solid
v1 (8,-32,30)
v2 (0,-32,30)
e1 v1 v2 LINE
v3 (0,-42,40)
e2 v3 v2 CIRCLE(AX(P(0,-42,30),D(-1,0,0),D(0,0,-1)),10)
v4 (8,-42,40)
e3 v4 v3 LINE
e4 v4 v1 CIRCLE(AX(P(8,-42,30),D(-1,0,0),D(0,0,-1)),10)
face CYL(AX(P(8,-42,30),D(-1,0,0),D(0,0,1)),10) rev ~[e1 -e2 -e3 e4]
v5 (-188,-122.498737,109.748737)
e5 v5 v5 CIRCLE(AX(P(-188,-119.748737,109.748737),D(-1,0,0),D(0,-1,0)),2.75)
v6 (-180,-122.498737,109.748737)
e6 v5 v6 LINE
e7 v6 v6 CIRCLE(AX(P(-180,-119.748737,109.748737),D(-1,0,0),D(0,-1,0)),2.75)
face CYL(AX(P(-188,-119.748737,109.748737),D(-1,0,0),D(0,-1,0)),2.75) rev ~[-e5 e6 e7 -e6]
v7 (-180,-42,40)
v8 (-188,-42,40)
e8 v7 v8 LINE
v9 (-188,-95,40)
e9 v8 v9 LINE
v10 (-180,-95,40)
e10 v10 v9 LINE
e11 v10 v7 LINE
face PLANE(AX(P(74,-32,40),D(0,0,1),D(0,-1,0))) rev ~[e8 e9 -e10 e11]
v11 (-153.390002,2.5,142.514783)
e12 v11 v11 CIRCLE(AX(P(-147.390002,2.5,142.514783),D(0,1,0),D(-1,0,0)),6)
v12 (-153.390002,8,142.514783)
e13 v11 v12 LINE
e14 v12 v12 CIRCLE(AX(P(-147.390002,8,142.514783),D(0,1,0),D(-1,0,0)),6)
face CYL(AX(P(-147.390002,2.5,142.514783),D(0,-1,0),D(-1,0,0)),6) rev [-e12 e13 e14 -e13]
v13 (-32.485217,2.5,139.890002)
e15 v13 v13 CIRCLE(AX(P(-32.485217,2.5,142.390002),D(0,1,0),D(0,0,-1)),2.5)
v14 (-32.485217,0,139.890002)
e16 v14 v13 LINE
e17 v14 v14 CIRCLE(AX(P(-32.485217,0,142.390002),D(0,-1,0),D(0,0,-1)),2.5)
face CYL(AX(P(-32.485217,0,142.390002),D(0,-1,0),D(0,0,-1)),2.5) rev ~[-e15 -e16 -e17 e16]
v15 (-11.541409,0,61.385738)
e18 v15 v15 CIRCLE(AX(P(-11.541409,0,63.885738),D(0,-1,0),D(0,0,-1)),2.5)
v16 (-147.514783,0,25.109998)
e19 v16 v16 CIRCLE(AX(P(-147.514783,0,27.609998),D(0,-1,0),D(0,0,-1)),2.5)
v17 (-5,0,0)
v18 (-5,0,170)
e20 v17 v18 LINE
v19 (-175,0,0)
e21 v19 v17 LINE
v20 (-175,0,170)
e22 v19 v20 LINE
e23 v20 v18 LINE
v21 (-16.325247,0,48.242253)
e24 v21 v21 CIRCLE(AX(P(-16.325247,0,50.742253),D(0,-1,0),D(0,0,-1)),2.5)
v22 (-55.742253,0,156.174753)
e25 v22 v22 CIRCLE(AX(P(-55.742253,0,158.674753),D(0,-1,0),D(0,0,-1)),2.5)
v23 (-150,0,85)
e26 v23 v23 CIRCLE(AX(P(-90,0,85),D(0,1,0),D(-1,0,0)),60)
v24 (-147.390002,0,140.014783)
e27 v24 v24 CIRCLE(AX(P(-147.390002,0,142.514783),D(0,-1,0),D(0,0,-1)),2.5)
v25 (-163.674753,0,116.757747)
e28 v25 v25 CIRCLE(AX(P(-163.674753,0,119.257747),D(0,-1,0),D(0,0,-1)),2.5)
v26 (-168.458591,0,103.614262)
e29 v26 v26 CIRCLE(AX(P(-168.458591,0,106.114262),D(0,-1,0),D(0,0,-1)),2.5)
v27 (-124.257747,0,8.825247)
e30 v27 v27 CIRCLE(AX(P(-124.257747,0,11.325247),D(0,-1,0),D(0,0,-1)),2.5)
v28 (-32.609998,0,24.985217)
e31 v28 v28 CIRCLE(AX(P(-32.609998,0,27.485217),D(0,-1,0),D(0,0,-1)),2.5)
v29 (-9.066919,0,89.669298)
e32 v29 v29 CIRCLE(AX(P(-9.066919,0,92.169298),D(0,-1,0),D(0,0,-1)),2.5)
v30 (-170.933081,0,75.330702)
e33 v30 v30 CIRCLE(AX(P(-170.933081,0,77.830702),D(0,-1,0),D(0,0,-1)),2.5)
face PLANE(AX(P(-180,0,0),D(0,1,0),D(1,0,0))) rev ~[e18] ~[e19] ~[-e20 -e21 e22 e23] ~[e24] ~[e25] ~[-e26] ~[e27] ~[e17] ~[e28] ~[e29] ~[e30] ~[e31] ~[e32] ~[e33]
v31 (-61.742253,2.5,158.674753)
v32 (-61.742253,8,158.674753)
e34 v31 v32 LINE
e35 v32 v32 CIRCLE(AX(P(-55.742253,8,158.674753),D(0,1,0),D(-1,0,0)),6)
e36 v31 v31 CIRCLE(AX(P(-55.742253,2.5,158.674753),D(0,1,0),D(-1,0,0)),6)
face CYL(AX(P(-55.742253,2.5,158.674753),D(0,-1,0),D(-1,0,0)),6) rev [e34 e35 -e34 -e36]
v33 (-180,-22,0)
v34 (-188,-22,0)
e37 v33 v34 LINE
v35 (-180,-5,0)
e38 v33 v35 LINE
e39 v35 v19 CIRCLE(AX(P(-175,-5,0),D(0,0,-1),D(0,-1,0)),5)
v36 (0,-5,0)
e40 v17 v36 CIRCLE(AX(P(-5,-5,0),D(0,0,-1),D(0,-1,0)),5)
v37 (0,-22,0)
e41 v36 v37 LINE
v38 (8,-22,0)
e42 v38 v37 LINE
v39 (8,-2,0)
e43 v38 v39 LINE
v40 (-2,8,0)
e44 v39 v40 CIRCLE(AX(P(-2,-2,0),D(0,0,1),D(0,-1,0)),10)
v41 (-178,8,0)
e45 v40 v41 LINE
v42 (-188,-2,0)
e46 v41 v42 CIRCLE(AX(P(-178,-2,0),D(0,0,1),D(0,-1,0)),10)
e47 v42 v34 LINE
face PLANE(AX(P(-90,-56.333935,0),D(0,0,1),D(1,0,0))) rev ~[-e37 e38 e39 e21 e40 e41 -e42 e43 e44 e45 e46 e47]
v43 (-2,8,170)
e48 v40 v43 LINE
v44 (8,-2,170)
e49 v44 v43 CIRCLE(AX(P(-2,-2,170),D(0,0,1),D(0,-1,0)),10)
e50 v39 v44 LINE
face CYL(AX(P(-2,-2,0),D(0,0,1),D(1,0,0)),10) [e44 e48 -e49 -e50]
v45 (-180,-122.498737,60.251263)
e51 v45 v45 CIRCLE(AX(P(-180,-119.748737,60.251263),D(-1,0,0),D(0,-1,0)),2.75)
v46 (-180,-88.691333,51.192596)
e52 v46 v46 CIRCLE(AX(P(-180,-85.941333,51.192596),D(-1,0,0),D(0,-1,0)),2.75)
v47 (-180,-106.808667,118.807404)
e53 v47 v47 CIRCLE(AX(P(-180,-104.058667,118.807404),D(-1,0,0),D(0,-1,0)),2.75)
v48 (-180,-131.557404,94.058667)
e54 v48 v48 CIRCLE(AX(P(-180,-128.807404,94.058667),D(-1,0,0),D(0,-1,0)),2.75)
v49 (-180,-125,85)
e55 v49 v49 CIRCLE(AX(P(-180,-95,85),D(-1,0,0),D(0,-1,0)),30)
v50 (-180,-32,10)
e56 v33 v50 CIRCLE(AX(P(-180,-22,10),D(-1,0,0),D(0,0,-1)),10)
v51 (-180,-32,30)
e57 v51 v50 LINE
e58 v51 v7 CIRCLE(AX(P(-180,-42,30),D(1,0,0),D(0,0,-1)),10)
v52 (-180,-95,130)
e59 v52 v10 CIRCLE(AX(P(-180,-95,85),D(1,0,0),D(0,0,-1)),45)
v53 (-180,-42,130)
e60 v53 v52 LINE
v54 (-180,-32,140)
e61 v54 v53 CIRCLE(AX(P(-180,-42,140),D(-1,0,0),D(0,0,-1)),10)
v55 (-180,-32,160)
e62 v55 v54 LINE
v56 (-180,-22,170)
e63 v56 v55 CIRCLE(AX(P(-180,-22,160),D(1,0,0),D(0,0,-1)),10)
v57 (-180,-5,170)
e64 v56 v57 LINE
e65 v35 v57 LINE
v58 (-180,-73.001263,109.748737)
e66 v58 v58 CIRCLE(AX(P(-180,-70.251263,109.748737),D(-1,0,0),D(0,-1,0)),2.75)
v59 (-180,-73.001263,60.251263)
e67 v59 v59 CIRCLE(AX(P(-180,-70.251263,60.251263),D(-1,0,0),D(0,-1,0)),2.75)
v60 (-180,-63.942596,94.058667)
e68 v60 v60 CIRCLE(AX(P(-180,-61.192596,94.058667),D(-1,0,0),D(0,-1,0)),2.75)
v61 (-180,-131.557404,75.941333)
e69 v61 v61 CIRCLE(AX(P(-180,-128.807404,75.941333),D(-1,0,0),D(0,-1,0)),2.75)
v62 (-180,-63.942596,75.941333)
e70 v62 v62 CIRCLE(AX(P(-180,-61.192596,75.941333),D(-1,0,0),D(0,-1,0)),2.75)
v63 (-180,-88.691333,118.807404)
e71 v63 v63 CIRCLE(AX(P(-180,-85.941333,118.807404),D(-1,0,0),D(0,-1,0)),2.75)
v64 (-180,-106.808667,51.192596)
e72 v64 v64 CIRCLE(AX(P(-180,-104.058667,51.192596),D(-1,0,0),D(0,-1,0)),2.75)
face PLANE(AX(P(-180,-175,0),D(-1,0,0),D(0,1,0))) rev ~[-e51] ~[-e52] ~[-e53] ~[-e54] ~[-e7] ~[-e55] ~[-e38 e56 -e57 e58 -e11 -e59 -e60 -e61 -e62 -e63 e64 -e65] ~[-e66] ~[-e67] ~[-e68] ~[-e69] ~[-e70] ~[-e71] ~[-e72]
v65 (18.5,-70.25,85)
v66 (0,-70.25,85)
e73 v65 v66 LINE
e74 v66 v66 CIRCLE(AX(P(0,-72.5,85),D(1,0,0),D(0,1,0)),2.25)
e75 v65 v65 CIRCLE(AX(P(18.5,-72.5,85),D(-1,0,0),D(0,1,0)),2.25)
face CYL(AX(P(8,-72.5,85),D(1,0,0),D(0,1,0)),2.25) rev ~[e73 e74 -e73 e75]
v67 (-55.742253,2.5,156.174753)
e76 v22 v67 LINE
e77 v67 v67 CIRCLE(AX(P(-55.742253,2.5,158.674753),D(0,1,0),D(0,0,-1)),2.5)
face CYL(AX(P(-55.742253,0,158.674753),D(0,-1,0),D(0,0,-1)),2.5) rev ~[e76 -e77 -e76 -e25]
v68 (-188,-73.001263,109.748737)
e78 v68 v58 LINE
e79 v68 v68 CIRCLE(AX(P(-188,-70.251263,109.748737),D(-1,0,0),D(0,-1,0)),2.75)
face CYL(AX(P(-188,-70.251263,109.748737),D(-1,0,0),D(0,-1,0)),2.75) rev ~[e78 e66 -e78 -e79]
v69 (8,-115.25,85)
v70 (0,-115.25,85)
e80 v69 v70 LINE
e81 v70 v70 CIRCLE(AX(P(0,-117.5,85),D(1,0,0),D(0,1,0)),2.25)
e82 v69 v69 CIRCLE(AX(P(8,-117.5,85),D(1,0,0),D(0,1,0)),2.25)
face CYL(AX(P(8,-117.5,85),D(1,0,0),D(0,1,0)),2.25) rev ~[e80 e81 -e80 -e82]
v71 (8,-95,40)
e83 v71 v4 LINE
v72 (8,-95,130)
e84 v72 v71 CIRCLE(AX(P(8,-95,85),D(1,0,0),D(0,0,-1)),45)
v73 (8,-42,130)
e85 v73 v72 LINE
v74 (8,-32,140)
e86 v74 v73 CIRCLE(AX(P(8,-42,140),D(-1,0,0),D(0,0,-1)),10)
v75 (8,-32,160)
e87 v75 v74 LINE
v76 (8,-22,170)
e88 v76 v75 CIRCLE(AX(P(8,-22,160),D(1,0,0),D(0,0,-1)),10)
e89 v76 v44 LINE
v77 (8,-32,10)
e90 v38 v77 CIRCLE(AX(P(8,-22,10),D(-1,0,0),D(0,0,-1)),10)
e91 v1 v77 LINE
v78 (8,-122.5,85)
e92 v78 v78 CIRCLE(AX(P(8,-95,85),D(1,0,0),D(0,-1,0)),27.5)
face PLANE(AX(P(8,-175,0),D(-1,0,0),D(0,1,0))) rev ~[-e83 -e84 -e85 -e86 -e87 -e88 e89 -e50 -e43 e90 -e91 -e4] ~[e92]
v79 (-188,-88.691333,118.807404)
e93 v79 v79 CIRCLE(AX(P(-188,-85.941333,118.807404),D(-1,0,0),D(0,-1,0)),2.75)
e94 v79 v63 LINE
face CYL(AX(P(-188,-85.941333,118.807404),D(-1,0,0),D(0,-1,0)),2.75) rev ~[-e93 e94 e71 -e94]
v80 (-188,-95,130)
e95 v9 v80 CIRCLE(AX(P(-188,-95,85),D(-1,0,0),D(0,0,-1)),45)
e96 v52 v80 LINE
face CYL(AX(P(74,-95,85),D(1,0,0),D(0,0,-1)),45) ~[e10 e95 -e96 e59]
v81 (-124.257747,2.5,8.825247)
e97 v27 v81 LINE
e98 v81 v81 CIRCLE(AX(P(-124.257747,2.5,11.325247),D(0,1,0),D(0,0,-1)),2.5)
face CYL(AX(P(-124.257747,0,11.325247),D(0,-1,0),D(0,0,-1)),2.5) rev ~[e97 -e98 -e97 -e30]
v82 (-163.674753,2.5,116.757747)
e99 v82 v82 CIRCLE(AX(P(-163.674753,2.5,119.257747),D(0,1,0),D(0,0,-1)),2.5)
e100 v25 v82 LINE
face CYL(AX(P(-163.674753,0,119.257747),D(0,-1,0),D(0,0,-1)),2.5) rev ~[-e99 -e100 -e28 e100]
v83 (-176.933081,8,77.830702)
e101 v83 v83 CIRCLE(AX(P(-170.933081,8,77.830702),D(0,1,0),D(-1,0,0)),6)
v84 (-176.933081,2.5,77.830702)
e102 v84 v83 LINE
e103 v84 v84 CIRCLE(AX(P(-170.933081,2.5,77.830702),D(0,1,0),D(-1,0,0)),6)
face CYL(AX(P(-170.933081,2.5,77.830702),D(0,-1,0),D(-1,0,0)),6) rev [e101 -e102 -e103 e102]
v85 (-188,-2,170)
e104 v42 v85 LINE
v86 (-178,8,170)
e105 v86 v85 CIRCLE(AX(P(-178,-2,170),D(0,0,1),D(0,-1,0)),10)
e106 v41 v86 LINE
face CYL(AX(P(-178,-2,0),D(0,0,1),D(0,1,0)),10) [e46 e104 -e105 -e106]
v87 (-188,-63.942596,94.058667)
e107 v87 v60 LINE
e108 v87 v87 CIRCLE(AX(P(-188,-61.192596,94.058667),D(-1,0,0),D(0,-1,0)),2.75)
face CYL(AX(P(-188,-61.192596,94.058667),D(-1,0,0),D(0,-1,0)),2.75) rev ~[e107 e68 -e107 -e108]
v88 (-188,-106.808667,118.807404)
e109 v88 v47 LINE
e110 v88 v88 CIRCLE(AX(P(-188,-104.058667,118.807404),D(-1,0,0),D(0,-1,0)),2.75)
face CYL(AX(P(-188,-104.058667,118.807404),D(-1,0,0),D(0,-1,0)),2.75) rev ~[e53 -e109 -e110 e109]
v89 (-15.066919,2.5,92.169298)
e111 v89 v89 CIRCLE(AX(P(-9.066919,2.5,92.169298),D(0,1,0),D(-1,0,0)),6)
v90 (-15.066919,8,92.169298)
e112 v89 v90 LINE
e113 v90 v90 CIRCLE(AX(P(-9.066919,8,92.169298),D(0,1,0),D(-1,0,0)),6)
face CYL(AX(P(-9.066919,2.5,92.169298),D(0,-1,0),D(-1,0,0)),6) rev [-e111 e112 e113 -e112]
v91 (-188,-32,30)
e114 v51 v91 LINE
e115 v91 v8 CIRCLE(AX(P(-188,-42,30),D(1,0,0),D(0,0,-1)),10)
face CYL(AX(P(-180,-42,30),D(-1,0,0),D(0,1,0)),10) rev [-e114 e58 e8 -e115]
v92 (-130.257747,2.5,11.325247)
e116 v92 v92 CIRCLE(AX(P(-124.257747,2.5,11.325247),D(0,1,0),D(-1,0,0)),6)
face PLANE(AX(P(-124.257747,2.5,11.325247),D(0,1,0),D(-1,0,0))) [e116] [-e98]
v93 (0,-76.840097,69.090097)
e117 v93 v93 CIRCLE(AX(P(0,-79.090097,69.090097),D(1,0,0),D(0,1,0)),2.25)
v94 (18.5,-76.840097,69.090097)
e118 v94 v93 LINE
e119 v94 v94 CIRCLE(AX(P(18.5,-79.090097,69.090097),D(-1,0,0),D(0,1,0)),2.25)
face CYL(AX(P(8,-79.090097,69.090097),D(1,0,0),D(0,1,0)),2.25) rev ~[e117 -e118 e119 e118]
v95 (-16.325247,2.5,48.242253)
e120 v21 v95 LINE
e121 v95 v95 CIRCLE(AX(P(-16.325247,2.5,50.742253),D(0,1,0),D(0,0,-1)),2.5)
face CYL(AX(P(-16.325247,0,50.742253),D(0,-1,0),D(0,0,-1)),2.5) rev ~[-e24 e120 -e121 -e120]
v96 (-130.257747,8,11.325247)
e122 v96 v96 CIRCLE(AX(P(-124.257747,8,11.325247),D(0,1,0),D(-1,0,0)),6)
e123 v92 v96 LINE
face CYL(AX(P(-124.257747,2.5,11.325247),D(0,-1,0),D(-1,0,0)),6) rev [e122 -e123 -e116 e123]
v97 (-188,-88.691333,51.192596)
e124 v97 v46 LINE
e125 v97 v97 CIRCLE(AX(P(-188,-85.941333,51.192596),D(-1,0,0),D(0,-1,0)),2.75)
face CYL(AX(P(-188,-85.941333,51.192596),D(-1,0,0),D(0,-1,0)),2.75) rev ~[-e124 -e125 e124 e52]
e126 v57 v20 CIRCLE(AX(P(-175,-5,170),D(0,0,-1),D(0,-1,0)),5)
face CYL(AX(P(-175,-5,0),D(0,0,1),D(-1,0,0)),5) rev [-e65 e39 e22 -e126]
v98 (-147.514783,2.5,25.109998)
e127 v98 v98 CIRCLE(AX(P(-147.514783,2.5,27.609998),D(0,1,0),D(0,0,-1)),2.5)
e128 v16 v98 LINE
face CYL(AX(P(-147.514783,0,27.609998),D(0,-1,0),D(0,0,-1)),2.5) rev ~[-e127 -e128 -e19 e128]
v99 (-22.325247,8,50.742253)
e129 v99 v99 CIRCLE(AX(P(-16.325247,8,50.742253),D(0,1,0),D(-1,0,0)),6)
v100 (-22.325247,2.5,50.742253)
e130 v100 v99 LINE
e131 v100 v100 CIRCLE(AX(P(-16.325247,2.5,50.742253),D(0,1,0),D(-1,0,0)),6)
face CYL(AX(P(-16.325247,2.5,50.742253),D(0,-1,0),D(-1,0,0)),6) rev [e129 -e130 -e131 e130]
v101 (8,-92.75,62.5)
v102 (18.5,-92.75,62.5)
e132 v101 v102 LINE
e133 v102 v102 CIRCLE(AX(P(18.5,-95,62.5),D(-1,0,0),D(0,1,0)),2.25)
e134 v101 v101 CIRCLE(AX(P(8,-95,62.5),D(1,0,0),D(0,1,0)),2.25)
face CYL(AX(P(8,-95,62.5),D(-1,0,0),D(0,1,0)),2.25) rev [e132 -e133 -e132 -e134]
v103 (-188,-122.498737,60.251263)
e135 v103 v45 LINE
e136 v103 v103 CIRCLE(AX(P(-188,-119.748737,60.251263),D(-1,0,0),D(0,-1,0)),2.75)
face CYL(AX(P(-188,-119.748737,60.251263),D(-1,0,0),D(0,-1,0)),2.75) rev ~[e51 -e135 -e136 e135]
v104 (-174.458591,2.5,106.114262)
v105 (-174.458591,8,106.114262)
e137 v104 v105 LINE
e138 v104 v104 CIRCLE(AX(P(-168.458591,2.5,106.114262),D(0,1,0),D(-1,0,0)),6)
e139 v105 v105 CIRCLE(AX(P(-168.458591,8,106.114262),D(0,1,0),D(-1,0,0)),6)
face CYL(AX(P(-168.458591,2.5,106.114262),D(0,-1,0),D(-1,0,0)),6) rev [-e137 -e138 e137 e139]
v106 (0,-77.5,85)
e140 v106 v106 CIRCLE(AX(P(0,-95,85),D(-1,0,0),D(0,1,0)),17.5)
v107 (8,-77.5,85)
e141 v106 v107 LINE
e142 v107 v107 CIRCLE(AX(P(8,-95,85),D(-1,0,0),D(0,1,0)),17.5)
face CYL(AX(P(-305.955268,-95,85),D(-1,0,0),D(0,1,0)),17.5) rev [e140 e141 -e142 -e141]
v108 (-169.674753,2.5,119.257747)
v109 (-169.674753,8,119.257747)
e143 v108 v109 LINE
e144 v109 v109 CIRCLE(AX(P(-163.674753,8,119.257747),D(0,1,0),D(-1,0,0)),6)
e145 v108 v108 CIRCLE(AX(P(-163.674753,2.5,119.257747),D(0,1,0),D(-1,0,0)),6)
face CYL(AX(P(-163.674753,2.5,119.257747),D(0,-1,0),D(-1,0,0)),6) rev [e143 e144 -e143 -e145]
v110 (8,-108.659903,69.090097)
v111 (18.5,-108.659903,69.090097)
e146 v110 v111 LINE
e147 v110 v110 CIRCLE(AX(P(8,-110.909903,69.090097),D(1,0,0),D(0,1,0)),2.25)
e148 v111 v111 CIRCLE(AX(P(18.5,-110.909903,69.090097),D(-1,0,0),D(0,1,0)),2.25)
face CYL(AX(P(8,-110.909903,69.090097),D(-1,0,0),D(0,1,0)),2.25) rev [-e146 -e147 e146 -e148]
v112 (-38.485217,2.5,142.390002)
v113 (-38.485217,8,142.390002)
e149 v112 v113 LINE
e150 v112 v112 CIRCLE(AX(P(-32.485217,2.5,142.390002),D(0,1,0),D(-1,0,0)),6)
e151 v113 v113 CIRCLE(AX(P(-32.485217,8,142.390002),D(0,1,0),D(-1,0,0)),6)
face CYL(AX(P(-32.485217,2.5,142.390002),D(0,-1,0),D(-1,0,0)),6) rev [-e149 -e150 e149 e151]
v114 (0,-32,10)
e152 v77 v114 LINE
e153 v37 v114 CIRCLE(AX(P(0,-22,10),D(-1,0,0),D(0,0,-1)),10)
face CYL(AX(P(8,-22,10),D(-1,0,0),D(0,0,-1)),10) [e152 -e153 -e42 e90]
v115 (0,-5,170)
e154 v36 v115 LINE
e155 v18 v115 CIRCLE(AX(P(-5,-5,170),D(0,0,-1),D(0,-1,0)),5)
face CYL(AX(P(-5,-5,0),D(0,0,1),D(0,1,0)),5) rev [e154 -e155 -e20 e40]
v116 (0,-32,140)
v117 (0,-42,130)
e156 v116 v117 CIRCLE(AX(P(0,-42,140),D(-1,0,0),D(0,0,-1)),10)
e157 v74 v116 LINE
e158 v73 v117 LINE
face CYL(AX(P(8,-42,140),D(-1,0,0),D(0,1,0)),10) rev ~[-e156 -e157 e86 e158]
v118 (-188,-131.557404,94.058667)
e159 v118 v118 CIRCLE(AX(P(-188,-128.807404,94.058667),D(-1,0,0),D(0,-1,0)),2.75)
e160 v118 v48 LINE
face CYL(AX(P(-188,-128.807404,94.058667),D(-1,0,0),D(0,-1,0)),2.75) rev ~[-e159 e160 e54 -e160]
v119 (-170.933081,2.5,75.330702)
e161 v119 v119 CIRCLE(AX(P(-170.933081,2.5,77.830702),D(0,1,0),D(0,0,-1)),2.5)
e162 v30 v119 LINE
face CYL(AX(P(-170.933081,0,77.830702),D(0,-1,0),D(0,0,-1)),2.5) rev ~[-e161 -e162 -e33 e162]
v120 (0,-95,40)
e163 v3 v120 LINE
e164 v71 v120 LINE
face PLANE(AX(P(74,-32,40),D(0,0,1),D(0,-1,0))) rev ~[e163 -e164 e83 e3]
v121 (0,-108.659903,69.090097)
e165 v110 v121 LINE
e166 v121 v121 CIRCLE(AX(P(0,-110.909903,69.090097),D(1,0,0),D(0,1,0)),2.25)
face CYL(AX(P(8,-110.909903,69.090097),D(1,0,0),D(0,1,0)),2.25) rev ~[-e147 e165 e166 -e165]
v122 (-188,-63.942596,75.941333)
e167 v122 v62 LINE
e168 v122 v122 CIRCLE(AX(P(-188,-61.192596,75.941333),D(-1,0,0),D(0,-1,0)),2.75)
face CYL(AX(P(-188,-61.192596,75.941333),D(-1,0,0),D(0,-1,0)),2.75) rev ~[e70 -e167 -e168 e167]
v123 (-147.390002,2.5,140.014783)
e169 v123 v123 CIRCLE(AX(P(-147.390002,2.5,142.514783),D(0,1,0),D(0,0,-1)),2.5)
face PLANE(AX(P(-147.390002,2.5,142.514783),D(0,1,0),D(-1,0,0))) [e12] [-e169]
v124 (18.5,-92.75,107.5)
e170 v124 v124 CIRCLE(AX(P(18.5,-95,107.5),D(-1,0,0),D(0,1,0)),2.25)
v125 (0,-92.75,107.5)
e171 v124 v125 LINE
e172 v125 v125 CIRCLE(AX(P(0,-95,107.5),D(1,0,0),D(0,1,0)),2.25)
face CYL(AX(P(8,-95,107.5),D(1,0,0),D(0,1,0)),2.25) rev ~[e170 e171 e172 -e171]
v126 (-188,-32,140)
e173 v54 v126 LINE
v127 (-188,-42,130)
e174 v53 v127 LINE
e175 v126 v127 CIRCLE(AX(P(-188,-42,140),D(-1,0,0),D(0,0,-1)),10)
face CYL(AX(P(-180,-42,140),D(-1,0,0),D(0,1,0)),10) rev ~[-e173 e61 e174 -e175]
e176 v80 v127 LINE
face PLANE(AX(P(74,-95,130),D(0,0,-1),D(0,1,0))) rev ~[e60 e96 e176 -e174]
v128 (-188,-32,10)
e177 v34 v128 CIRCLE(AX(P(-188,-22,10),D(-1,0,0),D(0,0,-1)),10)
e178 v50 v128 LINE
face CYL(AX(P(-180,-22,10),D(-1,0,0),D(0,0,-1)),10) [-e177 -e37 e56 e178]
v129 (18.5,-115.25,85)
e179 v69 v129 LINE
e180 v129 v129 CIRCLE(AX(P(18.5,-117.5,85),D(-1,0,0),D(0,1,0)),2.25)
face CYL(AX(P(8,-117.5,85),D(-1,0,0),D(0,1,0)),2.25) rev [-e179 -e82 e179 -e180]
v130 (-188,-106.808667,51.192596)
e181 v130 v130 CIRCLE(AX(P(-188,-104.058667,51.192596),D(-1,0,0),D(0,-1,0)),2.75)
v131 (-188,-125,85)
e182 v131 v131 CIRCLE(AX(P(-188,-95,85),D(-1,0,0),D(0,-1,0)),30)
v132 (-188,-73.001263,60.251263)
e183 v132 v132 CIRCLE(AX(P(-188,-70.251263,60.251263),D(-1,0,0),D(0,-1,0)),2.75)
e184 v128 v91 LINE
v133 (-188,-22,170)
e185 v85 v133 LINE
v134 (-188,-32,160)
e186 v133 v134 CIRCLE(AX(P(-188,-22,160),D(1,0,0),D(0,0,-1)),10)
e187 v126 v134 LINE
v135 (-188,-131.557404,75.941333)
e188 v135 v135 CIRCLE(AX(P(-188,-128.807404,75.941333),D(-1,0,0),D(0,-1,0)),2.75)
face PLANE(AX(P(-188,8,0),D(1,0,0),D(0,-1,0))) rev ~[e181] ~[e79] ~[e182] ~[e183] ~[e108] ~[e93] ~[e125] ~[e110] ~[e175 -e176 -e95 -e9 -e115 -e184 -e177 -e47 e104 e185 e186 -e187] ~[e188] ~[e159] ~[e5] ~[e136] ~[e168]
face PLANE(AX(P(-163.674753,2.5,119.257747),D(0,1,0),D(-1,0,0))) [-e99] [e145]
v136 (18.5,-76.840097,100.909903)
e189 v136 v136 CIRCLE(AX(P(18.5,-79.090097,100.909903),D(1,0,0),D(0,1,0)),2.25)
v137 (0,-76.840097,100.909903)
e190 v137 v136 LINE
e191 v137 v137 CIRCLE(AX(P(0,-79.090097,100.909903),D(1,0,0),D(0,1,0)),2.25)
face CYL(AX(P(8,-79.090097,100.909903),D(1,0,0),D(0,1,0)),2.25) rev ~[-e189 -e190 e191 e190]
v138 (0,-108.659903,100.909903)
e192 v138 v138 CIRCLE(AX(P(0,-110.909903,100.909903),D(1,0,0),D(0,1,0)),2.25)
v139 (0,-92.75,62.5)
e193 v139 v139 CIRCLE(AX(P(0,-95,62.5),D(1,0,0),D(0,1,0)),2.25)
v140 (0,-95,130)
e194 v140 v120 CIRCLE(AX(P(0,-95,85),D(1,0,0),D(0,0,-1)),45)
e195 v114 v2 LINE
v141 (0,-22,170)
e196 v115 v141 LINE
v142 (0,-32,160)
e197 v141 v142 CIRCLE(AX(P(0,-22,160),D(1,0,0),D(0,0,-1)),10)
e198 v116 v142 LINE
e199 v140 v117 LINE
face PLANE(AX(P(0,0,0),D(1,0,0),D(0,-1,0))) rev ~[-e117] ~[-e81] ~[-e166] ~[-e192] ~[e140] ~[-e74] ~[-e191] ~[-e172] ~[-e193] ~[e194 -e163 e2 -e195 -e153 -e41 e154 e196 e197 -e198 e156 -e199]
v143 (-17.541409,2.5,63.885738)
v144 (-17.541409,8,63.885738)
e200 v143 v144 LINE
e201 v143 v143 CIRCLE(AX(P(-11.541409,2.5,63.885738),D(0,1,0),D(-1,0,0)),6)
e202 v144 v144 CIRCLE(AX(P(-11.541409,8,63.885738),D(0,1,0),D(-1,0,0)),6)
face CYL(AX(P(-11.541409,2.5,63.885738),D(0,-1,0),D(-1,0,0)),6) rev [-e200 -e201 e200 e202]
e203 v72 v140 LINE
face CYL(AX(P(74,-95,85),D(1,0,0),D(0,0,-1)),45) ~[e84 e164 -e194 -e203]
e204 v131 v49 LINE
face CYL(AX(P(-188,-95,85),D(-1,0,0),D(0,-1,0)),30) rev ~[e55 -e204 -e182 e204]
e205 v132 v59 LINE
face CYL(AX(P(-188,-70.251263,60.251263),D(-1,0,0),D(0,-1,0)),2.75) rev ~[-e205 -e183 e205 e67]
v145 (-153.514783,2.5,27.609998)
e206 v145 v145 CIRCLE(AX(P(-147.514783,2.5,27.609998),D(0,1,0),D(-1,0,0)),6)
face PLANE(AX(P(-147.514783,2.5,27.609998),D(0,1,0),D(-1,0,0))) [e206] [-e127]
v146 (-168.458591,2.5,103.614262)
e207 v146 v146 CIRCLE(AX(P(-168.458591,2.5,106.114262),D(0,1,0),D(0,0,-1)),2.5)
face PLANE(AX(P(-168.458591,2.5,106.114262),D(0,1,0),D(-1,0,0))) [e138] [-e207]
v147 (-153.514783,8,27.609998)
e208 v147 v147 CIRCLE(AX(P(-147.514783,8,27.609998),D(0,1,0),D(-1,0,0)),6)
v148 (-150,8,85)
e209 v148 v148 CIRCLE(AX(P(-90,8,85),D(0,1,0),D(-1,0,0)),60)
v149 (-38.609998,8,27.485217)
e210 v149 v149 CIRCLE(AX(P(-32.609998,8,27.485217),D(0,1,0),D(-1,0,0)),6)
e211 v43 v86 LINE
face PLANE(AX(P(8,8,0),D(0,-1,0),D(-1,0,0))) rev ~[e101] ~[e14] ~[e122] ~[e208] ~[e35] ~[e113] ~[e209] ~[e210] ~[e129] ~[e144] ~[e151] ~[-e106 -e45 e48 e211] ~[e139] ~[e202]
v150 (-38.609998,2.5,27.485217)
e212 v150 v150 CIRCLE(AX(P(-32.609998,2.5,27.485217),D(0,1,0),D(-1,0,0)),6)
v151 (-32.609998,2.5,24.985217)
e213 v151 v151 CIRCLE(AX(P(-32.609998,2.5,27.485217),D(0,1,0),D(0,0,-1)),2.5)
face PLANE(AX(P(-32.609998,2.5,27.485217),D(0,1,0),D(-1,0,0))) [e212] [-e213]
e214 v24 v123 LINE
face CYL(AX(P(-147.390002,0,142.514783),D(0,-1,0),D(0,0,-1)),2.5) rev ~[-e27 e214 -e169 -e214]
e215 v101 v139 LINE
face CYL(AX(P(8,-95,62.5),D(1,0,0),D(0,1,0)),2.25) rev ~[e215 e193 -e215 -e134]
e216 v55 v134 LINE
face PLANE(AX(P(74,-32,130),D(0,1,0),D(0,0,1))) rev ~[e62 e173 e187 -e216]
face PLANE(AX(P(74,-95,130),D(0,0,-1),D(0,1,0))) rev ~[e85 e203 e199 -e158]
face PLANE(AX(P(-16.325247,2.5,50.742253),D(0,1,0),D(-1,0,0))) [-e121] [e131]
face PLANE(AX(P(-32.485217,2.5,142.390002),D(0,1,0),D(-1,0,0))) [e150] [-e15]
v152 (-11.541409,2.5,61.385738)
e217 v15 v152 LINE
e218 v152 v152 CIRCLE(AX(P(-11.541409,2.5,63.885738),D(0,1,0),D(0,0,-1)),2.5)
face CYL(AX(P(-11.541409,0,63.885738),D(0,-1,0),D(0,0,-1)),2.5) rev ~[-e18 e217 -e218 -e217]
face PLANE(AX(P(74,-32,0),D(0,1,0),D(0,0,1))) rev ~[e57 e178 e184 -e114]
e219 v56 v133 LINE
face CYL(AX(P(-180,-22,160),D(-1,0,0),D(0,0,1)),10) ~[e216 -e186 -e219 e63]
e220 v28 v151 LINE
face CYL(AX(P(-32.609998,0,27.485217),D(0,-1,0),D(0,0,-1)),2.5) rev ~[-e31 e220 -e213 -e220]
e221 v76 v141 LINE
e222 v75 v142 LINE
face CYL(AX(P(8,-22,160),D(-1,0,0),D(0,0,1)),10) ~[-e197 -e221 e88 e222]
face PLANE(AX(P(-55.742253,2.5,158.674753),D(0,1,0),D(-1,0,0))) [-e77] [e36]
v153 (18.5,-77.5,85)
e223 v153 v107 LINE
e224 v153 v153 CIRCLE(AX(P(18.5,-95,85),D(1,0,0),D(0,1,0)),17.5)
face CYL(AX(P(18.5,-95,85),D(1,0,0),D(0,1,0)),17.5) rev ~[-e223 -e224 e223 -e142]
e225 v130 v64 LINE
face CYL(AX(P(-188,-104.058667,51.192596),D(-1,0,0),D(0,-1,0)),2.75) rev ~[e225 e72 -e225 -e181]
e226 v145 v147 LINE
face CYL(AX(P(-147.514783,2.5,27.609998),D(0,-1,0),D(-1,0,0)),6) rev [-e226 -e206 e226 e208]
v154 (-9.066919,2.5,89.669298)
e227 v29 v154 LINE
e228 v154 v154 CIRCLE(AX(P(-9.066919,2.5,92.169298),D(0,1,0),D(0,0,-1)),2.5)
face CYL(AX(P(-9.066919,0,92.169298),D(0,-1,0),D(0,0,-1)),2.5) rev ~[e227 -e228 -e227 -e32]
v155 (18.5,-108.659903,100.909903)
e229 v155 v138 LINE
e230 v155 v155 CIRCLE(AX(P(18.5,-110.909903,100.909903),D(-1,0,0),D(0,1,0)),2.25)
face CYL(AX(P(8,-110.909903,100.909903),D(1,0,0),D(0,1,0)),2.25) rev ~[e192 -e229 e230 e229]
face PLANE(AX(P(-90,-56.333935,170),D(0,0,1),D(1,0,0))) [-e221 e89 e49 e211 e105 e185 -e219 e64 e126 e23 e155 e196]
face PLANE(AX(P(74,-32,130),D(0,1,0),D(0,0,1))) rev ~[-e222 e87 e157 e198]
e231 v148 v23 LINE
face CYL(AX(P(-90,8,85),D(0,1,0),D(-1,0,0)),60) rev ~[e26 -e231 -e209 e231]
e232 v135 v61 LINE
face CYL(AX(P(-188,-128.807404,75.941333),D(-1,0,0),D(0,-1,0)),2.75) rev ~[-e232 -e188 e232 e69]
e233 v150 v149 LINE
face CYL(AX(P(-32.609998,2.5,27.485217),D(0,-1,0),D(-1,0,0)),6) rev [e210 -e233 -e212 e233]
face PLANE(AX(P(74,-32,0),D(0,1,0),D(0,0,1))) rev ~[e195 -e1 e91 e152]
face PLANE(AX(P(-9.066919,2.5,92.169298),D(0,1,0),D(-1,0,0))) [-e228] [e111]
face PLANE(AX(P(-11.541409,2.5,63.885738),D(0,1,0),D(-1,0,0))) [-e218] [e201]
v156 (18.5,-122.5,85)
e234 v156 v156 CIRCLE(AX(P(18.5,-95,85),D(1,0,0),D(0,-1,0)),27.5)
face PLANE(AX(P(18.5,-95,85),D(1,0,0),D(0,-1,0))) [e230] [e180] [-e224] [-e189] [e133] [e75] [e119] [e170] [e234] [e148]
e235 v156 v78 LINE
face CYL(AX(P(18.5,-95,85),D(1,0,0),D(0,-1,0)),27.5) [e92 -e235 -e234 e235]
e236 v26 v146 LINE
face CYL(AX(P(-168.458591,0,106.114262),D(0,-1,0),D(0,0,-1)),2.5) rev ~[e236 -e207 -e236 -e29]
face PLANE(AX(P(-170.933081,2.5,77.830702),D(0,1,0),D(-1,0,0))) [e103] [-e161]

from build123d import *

# Parameters (mm, degrees)
EXTRUDE_1_DEPTH          = 170
SKETCH_2_R               = 60
CUT_EXTRUDE_1_DEPTH      = 180
CUT_EXTRUDE_2_DEPTH      = 313.955268369
CUT_EXTRUDE_2_DEPTH_BACK = 313.955268369
SKETCH_3_R               = 17.5
FILLET_1_R               = 70
FILLET_2_R               = 5
FILLET_3_R               = 10
SKETCH_6_R               = 30
CUT_EXTRUDE_6_DEPTH      = 39
SKETCH_10_R              = 2.5
CUT_EXTRUDE_10_DEPTH     = 10
CUT_EXTRUDE_START        = -5.5
SKETCH_11_R              = 6
SKETCH_11_R_2            = 2.5
CUT_EXTRUDE_11_DEPTH     = 5.5
SKETCH_12_R              = 2.75
CUT_EXTRUDE_12_DEPTH     = 10
EXTRUDE_START            = 10.5
SKETCH_14_R              = 27.5
SKETCH_14_R_2            = 17.5
EXTRUDE_2_DEPTH          = 10.5
SKETCH_13_R              = 2.25
CUT_EXTRUDE_13_DEPTH     = 15
CUT_EXTRUDE_START_2      = -262
CUT_EXTRUDE_14_DEPTH     = 262
FILLET_4_R               = 10


with BuildPart() as part:
    # 草图1 → 凸台-拉伸1 (new body)
    with BuildSketch(Plane.XY):
        Polygon((-180, 0), (0, 0), (0, -175), (8, -175), (8, 8), (-180, 8), (-188, 8), (-188, -175), (-180, -175), align=None)
    extrude(amount=EXTRUDE_1_DEPTH)

    # 草图2 → 切除-拉伸1 (cut)
    with BuildSketch(Plane(origin=(0, 8, 0), x_dir=(1, 0, 0), z_dir=(0, 1, 0))):
        with Locations(Location((-90, -85, 0), (0, 0, 180))):
            Circle(SKETCH_2_R)
    extrude(amount=-CUT_EXTRUDE_1_DEPTH, mode=Mode.SUBTRACT)

    # 草图3 → 切除-拉伸2 (cut, two sides: drawn at the far end of the back side and taken through both)
    with BuildSketch(Plane(origin=(8, 0, 0), x_dir=(0, 0, -1), z_dir=(1, 0, 0)).offset(-CUT_EXTRUDE_2_DEPTH_BACK)):
        with Locations(Location((-85, -95, 0), (0, 0, 90))):
            Circle(SKETCH_3_R)
    extrude(amount=CUT_EXTRUDE_2_DEPTH + CUT_EXTRUDE_2_DEPTH_BACK, mode=Mode.SUBTRACT)

    # 圆角1
    fillet_1_edges = [part.edges().sort_by_distance(p)[0] for p in [
        (4, -175, 0),
        (4, -175, 170),
        (-184, -175, 170),
        (-184, -175, 0),
    ]]
    fillet(fillet_1_edges, radius=FILLET_1_R)

    # 圆角2
    fillet_2_edges = [part.edges().sort_by_distance(p)[0] for p in [
        (0, 0, 85),
        (-180, 0, 85),
    ]]
    fillet(fillet_2_edges, radius=FILLET_2_R)

    # 圆角3
    fillet_3_edges = [part.edges().sort_by_distance(p)[0] for p in [
        (-188, 8, 85),
        (8, 8, 85),
    ]]
    fillet(fillet_3_edges, radius=FILLET_3_R)

    # 草图6 → 切除-拉伸6 (cut)
    with BuildSketch(Plane.ZY.offset(188)):
        with Locations(Location((85, -95, 0), (0, 0, 270))):
            Circle(SKETCH_6_R)
    extrude(amount=-CUT_EXTRUDE_6_DEPTH, mode=Mode.SUBTRACT)

    # 草图10 → 切除-拉伸10 (cut)
    with BuildSketch(Plane.XZ):
        with Locations(Location((-55.742253069, 158.674753309, 0), (0, 0, 270))):
            Circle(SKETCH_10_R)
        with Locations(Location((-32.485217492, 142.390001682, 0), (0, 0, 270))):
            Circle(SKETCH_10_R)
        with Locations(Location((-9.066918551, 92.169297536, 0), (0, 0, 270))):
            Circle(SKETCH_10_R)
        with Locations(Location((-11.541409366, 63.885738097, 0), (0, 0, 270))):
            Circle(SKETCH_10_R)
        with Locations(Location((-16.325246691, 50.742253069, 0), (0, 0, 270))):
            Circle(SKETCH_10_R)
        with Locations(Location((-32.609998318, 27.485217492, 0), (0, 0, 270))):
            Circle(SKETCH_10_R)
        with Locations(Location((-124.257746931, 11.325246691, 0), (0, 0, 270))):
            Circle(SKETCH_10_R)
        with Locations(Location((-147.514782508, 27.609998318, 0), (0, 0, 270))):
            Circle(SKETCH_10_R)
        with Locations(Location((-170.933081449, 77.830702464, 0), (0, 0, 270))):
            Circle(SKETCH_10_R)
        with Locations(Location((-168.458590634, 106.114261903, 0), (0, 0, 270))):
            Circle(SKETCH_10_R)
        with Locations(Location((-163.674753309, 119.257746931, 0), (0, 0, 270))):
            Circle(SKETCH_10_R)
        with Locations(Location((-147.390001682, 142.514782508, 0), (0, 0, 270))):
            Circle(SKETCH_10_R)
    extrude(amount=-CUT_EXTRUDE_10_DEPTH, mode=Mode.SUBTRACT)

    # 草图11 → 切除-拉伸11 (cut)
    # profile 1 of 12: a face of its own
    with BuildSketch(Plane(origin=(0, 8, 0), x_dir=(1, 0, 0), z_dir=(0, 1, 0)).offset(CUT_EXTRUDE_START)):
        with Locations(Location((-32.485217492, -142.390001682, 0), (0, 0, 180))):
            Circle(SKETCH_11_R)
        with Locations(Location((-32.485217492, -142.390001682, 0), (0, 0, 90))):
            Circle(SKETCH_11_R_2, mode=Mode.SUBTRACT)
    # profile 2 of 12: a face of its own
    with BuildSketch(Plane(origin=(0, 8, 0), x_dir=(1, 0, 0), z_dir=(0, 1, 0)).offset(CUT_EXTRUDE_START)):
        with Locations(Location((-55.742253069, -158.674753309, 0), (0, 0, 180))):
            Circle(SKETCH_11_R)
        with Locations(Location((-55.742253069, -158.674753309, 0), (0, 0, 90))):
            Circle(SKETCH_11_R_2, mode=Mode.SUBTRACT)
    # profile 3 of 12: a face of its own
    with BuildSketch(Plane(origin=(0, 8, 0), x_dir=(1, 0, 0), z_dir=(0, 1, 0)).offset(CUT_EXTRUDE_START)):
        with Locations(Location((-147.390001682, -142.514782508, 0), (0, 0, 180))):
            Circle(SKETCH_11_R)
        with Locations(Location((-147.390001682, -142.514782508, 0), (0, 0, 90))):
            Circle(SKETCH_11_R_2, mode=Mode.SUBTRACT)
    # profile 4 of 12: a face of its own
    with BuildSketch(Plane(origin=(0, 8, 0), x_dir=(1, 0, 0), z_dir=(0, 1, 0)).offset(CUT_EXTRUDE_START)):
        with Locations(Location((-163.674753309, -119.257746931, 0), (0, 0, 180))):
            Circle(SKETCH_11_R)
        with Locations(Location((-163.674753309, -119.257746931, 0), (0, 0, 90))):
            Circle(SKETCH_11_R_2, mode=Mode.SUBTRACT)
    # profile 5 of 12: a face of its own
    with BuildSketch(Plane(origin=(0, 8, 0), x_dir=(1, 0, 0), z_dir=(0, 1, 0)).offset(CUT_EXTRUDE_START)):
        with Locations(Location((-168.458590634, -106.114261903, 0), (0, 0, 180))):
            Circle(SKETCH_11_R)
        with Locations(Location((-168.458590634, -106.114261903, 0), (0, 0, 90))):
            Circle(SKETCH_11_R_2, mode=Mode.SUBTRACT)
    # profile 6 of 12: a face of its own
    with BuildSketch(Plane(origin=(0, 8, 0), x_dir=(1, 0, 0), z_dir=(0, 1, 0)).offset(CUT_EXTRUDE_START)):
        with Locations(Location((-170.933081449, -77.830702464, 0), (0, 0, 180))):
            Circle(SKETCH_11_R)
        with Locations(Location((-170.933081449, -77.830702464, 0), (0, 0, 90))):
            Circle(SKETCH_11_R_2, mode=Mode.SUBTRACT)
    # profile 7 of 12: a face of its own
    with BuildSketch(Plane(origin=(0, 8, 0), x_dir=(1, 0, 0), z_dir=(0, 1, 0)).offset(CUT_EXTRUDE_START)):
        with Locations(Location((-147.514782508, -27.609998318, 0), (0, 0, 180))):
            Circle(SKETCH_11_R)
        with Locations(Location((-147.514782508, -27.609998318, 0), (0, 0, 90))):
            Circle(SKETCH_11_R_2, mode=Mode.SUBTRACT)
    # profile 8 of 12: a face of its own
    with BuildSketch(Plane(origin=(0, 8, 0), x_dir=(1, 0, 0), z_dir=(0, 1, 0)).offset(CUT_EXTRUDE_START)):
        with Locations(Location((-124.257746931, -11.325246691, 0), (0, 0, 180))):
            Circle(SKETCH_11_R)
        with Locations(Location((-124.257746931, -11.325246691, 0), (0, 0, 90))):
            Circle(SKETCH_11_R_2, mode=Mode.SUBTRACT)
    # profile 9 of 12: a face of its own
    with BuildSketch(Plane(origin=(0, 8, 0), x_dir=(1, 0, 0), z_dir=(0, 1, 0)).offset(CUT_EXTRUDE_START)):
        with Locations(Location((-32.609998318, -27.485217492, 0), (0, 0, 180))):
            Circle(SKETCH_11_R)
        with Locations(Location((-32.609998318, -27.485217492, 0), (0, 0, 90))):
            Circle(SKETCH_11_R_2, mode=Mode.SUBTRACT)
    # profile 10 of 12: a face of its own
    with BuildSketch(Plane(origin=(0, 8, 0), x_dir=(1, 0, 0), z_dir=(0, 1, 0)).offset(CUT_EXTRUDE_START)):
        with Locations(Location((-16.325246691, -50.742253069, 0), (0, 0, 180))):
            Circle(SKETCH_11_R)
        with Locations(Location((-16.325246691, -50.742253069, 0), (0, 0, 90))):
            Circle(SKETCH_11_R_2, mode=Mode.SUBTRACT)
    # profile 11 of 12: a face of its own
    with BuildSketch(Plane(origin=(0, 8, 0), x_dir=(1, 0, 0), z_dir=(0, 1, 0)).offset(CUT_EXTRUDE_START)):
        with Locations(Location((-11.541409366, -63.885738097, 0), (0, 0, 180))):
            Circle(SKETCH_11_R)
        with Locations(Location((-11.541409366, -63.885738097, 0), (0, 0, 90))):
            Circle(SKETCH_11_R_2, mode=Mode.SUBTRACT)
    # profile 12 of 12: a face of its own
    with BuildSketch(Plane(origin=(0, 8, 0), x_dir=(1, 0, 0), z_dir=(0, 1, 0)).offset(CUT_EXTRUDE_START)):
        with Locations(Location((-9.066918551, -92.169297536, 0), (0, 0, 180))):
            Circle(SKETCH_11_R)
        with Locations(Location((-9.066918551, -92.169297536, 0), (0, 0, 90))):
            Circle(SKETCH_11_R_2, mode=Mode.SUBTRACT)
    extrude(amount=CUT_EXTRUDE_11_DEPTH, mode=Mode.SUBTRACT)

    # 草图12 → 切除-拉伸12 (cut)
    with BuildSketch(Plane.ZY.offset(188)):
        with Locations(Location((94.058666579, -128.80740392, 0), (0, 0, 270))):
            Circle(SKETCH_12_R)
        with Locations(Location((75.941333421, -128.80740392, 0), (0, 0, 270))):
            Circle(SKETCH_12_R)
        with Locations(Location((60.251262658, -119.748737342, 0), (0, 0, 270))):
            Circle(SKETCH_12_R)
        with Locations(Location((51.19259608, -104.058666579, 0), (0, 0, 270))):
            Circle(SKETCH_12_R)
        with Locations(Location((51.19259608, -85.941333421, 0), (0, 0, 270))):
            Circle(SKETCH_12_R)
        with Locations(Location((60.251262658, -70.251262658, 0), (0, 0, 270))):
            Circle(SKETCH_12_R)
        with Locations(Location((75.941333421, -61.19259608, 0), (0, 0, 270))):
            Circle(SKETCH_12_R)
        with Locations(Location((94.058666579, -61.19259608, 0), (0, 0, 270))):
            Circle(SKETCH_12_R)
        with Locations(Location((109.748737342, -70.251262658, 0), (0, 0, 270))):
            Circle(SKETCH_12_R)
        with Locations(Location((118.80740392, -85.941333421, 0), (0, 0, 270))):
            Circle(SKETCH_12_R)
        with Locations(Location((118.80740392, -104.058666579, 0), (0, 0, 270))):
            Circle(SKETCH_12_R)
        with Locations(Location((109.748737342, -119.748737342, 0), (0, 0, 270))):
            Circle(SKETCH_12_R)
    extrude(amount=-CUT_EXTRUDE_12_DEPTH, mode=Mode.SUBTRACT)

    # 草图14 → 凸台-拉伸2 (add)
    with BuildSketch(Plane(origin=(8, 0, 0), x_dir=(0, 0, -1), z_dir=(1, 0, 0)).offset(EXTRUDE_START)):
        with Locations(Location((-85, -95, 0), (0, 0, 270))):
            Circle(SKETCH_14_R)
        with Locations(Location((-85, -95, 0), (0, 0, 90))):
            Circle(SKETCH_14_R_2, mode=Mode.SUBTRACT)
    extrude(amount=-EXTRUDE_2_DEPTH)

    # 草图13 → 切除-拉伸13 (cut, symmetric)
    with BuildSketch(Plane(origin=(8, 0, 0), x_dir=(0, 0, -1), z_dir=(1, 0, 0))):
        with Locations(Location((-85, -72.5, 0), (0, 0, 90))):
            Circle(SKETCH_13_R)
        with Locations(Location((-69.090097423, -79.090097423, 0), (0, 0, 90))):
            Circle(SKETCH_13_R)
        with Locations(Location((-62.5, -95, 0), (0, 0, 90))):
            Circle(SKETCH_13_R)
        with Locations(Location((-69.090097423, -110.909902577, 0), (0, 0, 90))):
            Circle(SKETCH_13_R)
        with Locations(Location((-85, -117.5, 0), (0, 0, 90))):
            Circle(SKETCH_13_R)
        with Locations(Location((-100.909902577, -110.909902577, 0), (0, 0, 90))):
            Circle(SKETCH_13_R)
        with Locations(Location((-107.5, -95, 0), (0, 0, 90))):
            Circle(SKETCH_13_R)
        with Locations(Location((-100.909902577, -79.090097423, 0), (0, 0, 90))):
            Circle(SKETCH_13_R)
    extrude(amount=CUT_EXTRUDE_13_DEPTH, both=True, mode=Mode.SUBTRACT)

    # 草图15 → 切除-拉伸14 (cut)
    with BuildSketch(Plane.ZY.offset(188).offset(CUT_EXTRUDE_START_2)):
        with BuildLine():
            Line((0, -32), (40, -32))
            Line((40, -32), (40, -95))
            ThreePointArc((40, -95), (85, -140), (130, -95))
            Line((130, -95), (130, -32))
            Line((130, -32), (170, -32))
            Line((170, -32), (170, -105))
            ThreePointArc((170, -105), (149.497474683, -154.497474683), (100, -175))
            Line((100, -175), (70, -175))
            ThreePointArc((70, -175), (20.502525317, -154.497474683), (0, -105))
            Line((0, -105), (0, -32))
        make_face()
    extrude(amount=CUT_EXTRUDE_14_DEPTH, mode=Mode.SUBTRACT)

    # 圆角4
    fillet_4_edges = [part.edges().sort_by_distance(p)[0] for p in [
        (4, -32, 40),
        (-184, -32, 40),
        (4, -32, 130),
        (-184, -32, 130),
        (4, -32, 0),
        (-184, -32, 0),
        (4, -32, 170),
        (-184, -32, 170),
    ]]
    fillet(fillet_4_edges, radius=FILLET_4_R)


solid = part.part
